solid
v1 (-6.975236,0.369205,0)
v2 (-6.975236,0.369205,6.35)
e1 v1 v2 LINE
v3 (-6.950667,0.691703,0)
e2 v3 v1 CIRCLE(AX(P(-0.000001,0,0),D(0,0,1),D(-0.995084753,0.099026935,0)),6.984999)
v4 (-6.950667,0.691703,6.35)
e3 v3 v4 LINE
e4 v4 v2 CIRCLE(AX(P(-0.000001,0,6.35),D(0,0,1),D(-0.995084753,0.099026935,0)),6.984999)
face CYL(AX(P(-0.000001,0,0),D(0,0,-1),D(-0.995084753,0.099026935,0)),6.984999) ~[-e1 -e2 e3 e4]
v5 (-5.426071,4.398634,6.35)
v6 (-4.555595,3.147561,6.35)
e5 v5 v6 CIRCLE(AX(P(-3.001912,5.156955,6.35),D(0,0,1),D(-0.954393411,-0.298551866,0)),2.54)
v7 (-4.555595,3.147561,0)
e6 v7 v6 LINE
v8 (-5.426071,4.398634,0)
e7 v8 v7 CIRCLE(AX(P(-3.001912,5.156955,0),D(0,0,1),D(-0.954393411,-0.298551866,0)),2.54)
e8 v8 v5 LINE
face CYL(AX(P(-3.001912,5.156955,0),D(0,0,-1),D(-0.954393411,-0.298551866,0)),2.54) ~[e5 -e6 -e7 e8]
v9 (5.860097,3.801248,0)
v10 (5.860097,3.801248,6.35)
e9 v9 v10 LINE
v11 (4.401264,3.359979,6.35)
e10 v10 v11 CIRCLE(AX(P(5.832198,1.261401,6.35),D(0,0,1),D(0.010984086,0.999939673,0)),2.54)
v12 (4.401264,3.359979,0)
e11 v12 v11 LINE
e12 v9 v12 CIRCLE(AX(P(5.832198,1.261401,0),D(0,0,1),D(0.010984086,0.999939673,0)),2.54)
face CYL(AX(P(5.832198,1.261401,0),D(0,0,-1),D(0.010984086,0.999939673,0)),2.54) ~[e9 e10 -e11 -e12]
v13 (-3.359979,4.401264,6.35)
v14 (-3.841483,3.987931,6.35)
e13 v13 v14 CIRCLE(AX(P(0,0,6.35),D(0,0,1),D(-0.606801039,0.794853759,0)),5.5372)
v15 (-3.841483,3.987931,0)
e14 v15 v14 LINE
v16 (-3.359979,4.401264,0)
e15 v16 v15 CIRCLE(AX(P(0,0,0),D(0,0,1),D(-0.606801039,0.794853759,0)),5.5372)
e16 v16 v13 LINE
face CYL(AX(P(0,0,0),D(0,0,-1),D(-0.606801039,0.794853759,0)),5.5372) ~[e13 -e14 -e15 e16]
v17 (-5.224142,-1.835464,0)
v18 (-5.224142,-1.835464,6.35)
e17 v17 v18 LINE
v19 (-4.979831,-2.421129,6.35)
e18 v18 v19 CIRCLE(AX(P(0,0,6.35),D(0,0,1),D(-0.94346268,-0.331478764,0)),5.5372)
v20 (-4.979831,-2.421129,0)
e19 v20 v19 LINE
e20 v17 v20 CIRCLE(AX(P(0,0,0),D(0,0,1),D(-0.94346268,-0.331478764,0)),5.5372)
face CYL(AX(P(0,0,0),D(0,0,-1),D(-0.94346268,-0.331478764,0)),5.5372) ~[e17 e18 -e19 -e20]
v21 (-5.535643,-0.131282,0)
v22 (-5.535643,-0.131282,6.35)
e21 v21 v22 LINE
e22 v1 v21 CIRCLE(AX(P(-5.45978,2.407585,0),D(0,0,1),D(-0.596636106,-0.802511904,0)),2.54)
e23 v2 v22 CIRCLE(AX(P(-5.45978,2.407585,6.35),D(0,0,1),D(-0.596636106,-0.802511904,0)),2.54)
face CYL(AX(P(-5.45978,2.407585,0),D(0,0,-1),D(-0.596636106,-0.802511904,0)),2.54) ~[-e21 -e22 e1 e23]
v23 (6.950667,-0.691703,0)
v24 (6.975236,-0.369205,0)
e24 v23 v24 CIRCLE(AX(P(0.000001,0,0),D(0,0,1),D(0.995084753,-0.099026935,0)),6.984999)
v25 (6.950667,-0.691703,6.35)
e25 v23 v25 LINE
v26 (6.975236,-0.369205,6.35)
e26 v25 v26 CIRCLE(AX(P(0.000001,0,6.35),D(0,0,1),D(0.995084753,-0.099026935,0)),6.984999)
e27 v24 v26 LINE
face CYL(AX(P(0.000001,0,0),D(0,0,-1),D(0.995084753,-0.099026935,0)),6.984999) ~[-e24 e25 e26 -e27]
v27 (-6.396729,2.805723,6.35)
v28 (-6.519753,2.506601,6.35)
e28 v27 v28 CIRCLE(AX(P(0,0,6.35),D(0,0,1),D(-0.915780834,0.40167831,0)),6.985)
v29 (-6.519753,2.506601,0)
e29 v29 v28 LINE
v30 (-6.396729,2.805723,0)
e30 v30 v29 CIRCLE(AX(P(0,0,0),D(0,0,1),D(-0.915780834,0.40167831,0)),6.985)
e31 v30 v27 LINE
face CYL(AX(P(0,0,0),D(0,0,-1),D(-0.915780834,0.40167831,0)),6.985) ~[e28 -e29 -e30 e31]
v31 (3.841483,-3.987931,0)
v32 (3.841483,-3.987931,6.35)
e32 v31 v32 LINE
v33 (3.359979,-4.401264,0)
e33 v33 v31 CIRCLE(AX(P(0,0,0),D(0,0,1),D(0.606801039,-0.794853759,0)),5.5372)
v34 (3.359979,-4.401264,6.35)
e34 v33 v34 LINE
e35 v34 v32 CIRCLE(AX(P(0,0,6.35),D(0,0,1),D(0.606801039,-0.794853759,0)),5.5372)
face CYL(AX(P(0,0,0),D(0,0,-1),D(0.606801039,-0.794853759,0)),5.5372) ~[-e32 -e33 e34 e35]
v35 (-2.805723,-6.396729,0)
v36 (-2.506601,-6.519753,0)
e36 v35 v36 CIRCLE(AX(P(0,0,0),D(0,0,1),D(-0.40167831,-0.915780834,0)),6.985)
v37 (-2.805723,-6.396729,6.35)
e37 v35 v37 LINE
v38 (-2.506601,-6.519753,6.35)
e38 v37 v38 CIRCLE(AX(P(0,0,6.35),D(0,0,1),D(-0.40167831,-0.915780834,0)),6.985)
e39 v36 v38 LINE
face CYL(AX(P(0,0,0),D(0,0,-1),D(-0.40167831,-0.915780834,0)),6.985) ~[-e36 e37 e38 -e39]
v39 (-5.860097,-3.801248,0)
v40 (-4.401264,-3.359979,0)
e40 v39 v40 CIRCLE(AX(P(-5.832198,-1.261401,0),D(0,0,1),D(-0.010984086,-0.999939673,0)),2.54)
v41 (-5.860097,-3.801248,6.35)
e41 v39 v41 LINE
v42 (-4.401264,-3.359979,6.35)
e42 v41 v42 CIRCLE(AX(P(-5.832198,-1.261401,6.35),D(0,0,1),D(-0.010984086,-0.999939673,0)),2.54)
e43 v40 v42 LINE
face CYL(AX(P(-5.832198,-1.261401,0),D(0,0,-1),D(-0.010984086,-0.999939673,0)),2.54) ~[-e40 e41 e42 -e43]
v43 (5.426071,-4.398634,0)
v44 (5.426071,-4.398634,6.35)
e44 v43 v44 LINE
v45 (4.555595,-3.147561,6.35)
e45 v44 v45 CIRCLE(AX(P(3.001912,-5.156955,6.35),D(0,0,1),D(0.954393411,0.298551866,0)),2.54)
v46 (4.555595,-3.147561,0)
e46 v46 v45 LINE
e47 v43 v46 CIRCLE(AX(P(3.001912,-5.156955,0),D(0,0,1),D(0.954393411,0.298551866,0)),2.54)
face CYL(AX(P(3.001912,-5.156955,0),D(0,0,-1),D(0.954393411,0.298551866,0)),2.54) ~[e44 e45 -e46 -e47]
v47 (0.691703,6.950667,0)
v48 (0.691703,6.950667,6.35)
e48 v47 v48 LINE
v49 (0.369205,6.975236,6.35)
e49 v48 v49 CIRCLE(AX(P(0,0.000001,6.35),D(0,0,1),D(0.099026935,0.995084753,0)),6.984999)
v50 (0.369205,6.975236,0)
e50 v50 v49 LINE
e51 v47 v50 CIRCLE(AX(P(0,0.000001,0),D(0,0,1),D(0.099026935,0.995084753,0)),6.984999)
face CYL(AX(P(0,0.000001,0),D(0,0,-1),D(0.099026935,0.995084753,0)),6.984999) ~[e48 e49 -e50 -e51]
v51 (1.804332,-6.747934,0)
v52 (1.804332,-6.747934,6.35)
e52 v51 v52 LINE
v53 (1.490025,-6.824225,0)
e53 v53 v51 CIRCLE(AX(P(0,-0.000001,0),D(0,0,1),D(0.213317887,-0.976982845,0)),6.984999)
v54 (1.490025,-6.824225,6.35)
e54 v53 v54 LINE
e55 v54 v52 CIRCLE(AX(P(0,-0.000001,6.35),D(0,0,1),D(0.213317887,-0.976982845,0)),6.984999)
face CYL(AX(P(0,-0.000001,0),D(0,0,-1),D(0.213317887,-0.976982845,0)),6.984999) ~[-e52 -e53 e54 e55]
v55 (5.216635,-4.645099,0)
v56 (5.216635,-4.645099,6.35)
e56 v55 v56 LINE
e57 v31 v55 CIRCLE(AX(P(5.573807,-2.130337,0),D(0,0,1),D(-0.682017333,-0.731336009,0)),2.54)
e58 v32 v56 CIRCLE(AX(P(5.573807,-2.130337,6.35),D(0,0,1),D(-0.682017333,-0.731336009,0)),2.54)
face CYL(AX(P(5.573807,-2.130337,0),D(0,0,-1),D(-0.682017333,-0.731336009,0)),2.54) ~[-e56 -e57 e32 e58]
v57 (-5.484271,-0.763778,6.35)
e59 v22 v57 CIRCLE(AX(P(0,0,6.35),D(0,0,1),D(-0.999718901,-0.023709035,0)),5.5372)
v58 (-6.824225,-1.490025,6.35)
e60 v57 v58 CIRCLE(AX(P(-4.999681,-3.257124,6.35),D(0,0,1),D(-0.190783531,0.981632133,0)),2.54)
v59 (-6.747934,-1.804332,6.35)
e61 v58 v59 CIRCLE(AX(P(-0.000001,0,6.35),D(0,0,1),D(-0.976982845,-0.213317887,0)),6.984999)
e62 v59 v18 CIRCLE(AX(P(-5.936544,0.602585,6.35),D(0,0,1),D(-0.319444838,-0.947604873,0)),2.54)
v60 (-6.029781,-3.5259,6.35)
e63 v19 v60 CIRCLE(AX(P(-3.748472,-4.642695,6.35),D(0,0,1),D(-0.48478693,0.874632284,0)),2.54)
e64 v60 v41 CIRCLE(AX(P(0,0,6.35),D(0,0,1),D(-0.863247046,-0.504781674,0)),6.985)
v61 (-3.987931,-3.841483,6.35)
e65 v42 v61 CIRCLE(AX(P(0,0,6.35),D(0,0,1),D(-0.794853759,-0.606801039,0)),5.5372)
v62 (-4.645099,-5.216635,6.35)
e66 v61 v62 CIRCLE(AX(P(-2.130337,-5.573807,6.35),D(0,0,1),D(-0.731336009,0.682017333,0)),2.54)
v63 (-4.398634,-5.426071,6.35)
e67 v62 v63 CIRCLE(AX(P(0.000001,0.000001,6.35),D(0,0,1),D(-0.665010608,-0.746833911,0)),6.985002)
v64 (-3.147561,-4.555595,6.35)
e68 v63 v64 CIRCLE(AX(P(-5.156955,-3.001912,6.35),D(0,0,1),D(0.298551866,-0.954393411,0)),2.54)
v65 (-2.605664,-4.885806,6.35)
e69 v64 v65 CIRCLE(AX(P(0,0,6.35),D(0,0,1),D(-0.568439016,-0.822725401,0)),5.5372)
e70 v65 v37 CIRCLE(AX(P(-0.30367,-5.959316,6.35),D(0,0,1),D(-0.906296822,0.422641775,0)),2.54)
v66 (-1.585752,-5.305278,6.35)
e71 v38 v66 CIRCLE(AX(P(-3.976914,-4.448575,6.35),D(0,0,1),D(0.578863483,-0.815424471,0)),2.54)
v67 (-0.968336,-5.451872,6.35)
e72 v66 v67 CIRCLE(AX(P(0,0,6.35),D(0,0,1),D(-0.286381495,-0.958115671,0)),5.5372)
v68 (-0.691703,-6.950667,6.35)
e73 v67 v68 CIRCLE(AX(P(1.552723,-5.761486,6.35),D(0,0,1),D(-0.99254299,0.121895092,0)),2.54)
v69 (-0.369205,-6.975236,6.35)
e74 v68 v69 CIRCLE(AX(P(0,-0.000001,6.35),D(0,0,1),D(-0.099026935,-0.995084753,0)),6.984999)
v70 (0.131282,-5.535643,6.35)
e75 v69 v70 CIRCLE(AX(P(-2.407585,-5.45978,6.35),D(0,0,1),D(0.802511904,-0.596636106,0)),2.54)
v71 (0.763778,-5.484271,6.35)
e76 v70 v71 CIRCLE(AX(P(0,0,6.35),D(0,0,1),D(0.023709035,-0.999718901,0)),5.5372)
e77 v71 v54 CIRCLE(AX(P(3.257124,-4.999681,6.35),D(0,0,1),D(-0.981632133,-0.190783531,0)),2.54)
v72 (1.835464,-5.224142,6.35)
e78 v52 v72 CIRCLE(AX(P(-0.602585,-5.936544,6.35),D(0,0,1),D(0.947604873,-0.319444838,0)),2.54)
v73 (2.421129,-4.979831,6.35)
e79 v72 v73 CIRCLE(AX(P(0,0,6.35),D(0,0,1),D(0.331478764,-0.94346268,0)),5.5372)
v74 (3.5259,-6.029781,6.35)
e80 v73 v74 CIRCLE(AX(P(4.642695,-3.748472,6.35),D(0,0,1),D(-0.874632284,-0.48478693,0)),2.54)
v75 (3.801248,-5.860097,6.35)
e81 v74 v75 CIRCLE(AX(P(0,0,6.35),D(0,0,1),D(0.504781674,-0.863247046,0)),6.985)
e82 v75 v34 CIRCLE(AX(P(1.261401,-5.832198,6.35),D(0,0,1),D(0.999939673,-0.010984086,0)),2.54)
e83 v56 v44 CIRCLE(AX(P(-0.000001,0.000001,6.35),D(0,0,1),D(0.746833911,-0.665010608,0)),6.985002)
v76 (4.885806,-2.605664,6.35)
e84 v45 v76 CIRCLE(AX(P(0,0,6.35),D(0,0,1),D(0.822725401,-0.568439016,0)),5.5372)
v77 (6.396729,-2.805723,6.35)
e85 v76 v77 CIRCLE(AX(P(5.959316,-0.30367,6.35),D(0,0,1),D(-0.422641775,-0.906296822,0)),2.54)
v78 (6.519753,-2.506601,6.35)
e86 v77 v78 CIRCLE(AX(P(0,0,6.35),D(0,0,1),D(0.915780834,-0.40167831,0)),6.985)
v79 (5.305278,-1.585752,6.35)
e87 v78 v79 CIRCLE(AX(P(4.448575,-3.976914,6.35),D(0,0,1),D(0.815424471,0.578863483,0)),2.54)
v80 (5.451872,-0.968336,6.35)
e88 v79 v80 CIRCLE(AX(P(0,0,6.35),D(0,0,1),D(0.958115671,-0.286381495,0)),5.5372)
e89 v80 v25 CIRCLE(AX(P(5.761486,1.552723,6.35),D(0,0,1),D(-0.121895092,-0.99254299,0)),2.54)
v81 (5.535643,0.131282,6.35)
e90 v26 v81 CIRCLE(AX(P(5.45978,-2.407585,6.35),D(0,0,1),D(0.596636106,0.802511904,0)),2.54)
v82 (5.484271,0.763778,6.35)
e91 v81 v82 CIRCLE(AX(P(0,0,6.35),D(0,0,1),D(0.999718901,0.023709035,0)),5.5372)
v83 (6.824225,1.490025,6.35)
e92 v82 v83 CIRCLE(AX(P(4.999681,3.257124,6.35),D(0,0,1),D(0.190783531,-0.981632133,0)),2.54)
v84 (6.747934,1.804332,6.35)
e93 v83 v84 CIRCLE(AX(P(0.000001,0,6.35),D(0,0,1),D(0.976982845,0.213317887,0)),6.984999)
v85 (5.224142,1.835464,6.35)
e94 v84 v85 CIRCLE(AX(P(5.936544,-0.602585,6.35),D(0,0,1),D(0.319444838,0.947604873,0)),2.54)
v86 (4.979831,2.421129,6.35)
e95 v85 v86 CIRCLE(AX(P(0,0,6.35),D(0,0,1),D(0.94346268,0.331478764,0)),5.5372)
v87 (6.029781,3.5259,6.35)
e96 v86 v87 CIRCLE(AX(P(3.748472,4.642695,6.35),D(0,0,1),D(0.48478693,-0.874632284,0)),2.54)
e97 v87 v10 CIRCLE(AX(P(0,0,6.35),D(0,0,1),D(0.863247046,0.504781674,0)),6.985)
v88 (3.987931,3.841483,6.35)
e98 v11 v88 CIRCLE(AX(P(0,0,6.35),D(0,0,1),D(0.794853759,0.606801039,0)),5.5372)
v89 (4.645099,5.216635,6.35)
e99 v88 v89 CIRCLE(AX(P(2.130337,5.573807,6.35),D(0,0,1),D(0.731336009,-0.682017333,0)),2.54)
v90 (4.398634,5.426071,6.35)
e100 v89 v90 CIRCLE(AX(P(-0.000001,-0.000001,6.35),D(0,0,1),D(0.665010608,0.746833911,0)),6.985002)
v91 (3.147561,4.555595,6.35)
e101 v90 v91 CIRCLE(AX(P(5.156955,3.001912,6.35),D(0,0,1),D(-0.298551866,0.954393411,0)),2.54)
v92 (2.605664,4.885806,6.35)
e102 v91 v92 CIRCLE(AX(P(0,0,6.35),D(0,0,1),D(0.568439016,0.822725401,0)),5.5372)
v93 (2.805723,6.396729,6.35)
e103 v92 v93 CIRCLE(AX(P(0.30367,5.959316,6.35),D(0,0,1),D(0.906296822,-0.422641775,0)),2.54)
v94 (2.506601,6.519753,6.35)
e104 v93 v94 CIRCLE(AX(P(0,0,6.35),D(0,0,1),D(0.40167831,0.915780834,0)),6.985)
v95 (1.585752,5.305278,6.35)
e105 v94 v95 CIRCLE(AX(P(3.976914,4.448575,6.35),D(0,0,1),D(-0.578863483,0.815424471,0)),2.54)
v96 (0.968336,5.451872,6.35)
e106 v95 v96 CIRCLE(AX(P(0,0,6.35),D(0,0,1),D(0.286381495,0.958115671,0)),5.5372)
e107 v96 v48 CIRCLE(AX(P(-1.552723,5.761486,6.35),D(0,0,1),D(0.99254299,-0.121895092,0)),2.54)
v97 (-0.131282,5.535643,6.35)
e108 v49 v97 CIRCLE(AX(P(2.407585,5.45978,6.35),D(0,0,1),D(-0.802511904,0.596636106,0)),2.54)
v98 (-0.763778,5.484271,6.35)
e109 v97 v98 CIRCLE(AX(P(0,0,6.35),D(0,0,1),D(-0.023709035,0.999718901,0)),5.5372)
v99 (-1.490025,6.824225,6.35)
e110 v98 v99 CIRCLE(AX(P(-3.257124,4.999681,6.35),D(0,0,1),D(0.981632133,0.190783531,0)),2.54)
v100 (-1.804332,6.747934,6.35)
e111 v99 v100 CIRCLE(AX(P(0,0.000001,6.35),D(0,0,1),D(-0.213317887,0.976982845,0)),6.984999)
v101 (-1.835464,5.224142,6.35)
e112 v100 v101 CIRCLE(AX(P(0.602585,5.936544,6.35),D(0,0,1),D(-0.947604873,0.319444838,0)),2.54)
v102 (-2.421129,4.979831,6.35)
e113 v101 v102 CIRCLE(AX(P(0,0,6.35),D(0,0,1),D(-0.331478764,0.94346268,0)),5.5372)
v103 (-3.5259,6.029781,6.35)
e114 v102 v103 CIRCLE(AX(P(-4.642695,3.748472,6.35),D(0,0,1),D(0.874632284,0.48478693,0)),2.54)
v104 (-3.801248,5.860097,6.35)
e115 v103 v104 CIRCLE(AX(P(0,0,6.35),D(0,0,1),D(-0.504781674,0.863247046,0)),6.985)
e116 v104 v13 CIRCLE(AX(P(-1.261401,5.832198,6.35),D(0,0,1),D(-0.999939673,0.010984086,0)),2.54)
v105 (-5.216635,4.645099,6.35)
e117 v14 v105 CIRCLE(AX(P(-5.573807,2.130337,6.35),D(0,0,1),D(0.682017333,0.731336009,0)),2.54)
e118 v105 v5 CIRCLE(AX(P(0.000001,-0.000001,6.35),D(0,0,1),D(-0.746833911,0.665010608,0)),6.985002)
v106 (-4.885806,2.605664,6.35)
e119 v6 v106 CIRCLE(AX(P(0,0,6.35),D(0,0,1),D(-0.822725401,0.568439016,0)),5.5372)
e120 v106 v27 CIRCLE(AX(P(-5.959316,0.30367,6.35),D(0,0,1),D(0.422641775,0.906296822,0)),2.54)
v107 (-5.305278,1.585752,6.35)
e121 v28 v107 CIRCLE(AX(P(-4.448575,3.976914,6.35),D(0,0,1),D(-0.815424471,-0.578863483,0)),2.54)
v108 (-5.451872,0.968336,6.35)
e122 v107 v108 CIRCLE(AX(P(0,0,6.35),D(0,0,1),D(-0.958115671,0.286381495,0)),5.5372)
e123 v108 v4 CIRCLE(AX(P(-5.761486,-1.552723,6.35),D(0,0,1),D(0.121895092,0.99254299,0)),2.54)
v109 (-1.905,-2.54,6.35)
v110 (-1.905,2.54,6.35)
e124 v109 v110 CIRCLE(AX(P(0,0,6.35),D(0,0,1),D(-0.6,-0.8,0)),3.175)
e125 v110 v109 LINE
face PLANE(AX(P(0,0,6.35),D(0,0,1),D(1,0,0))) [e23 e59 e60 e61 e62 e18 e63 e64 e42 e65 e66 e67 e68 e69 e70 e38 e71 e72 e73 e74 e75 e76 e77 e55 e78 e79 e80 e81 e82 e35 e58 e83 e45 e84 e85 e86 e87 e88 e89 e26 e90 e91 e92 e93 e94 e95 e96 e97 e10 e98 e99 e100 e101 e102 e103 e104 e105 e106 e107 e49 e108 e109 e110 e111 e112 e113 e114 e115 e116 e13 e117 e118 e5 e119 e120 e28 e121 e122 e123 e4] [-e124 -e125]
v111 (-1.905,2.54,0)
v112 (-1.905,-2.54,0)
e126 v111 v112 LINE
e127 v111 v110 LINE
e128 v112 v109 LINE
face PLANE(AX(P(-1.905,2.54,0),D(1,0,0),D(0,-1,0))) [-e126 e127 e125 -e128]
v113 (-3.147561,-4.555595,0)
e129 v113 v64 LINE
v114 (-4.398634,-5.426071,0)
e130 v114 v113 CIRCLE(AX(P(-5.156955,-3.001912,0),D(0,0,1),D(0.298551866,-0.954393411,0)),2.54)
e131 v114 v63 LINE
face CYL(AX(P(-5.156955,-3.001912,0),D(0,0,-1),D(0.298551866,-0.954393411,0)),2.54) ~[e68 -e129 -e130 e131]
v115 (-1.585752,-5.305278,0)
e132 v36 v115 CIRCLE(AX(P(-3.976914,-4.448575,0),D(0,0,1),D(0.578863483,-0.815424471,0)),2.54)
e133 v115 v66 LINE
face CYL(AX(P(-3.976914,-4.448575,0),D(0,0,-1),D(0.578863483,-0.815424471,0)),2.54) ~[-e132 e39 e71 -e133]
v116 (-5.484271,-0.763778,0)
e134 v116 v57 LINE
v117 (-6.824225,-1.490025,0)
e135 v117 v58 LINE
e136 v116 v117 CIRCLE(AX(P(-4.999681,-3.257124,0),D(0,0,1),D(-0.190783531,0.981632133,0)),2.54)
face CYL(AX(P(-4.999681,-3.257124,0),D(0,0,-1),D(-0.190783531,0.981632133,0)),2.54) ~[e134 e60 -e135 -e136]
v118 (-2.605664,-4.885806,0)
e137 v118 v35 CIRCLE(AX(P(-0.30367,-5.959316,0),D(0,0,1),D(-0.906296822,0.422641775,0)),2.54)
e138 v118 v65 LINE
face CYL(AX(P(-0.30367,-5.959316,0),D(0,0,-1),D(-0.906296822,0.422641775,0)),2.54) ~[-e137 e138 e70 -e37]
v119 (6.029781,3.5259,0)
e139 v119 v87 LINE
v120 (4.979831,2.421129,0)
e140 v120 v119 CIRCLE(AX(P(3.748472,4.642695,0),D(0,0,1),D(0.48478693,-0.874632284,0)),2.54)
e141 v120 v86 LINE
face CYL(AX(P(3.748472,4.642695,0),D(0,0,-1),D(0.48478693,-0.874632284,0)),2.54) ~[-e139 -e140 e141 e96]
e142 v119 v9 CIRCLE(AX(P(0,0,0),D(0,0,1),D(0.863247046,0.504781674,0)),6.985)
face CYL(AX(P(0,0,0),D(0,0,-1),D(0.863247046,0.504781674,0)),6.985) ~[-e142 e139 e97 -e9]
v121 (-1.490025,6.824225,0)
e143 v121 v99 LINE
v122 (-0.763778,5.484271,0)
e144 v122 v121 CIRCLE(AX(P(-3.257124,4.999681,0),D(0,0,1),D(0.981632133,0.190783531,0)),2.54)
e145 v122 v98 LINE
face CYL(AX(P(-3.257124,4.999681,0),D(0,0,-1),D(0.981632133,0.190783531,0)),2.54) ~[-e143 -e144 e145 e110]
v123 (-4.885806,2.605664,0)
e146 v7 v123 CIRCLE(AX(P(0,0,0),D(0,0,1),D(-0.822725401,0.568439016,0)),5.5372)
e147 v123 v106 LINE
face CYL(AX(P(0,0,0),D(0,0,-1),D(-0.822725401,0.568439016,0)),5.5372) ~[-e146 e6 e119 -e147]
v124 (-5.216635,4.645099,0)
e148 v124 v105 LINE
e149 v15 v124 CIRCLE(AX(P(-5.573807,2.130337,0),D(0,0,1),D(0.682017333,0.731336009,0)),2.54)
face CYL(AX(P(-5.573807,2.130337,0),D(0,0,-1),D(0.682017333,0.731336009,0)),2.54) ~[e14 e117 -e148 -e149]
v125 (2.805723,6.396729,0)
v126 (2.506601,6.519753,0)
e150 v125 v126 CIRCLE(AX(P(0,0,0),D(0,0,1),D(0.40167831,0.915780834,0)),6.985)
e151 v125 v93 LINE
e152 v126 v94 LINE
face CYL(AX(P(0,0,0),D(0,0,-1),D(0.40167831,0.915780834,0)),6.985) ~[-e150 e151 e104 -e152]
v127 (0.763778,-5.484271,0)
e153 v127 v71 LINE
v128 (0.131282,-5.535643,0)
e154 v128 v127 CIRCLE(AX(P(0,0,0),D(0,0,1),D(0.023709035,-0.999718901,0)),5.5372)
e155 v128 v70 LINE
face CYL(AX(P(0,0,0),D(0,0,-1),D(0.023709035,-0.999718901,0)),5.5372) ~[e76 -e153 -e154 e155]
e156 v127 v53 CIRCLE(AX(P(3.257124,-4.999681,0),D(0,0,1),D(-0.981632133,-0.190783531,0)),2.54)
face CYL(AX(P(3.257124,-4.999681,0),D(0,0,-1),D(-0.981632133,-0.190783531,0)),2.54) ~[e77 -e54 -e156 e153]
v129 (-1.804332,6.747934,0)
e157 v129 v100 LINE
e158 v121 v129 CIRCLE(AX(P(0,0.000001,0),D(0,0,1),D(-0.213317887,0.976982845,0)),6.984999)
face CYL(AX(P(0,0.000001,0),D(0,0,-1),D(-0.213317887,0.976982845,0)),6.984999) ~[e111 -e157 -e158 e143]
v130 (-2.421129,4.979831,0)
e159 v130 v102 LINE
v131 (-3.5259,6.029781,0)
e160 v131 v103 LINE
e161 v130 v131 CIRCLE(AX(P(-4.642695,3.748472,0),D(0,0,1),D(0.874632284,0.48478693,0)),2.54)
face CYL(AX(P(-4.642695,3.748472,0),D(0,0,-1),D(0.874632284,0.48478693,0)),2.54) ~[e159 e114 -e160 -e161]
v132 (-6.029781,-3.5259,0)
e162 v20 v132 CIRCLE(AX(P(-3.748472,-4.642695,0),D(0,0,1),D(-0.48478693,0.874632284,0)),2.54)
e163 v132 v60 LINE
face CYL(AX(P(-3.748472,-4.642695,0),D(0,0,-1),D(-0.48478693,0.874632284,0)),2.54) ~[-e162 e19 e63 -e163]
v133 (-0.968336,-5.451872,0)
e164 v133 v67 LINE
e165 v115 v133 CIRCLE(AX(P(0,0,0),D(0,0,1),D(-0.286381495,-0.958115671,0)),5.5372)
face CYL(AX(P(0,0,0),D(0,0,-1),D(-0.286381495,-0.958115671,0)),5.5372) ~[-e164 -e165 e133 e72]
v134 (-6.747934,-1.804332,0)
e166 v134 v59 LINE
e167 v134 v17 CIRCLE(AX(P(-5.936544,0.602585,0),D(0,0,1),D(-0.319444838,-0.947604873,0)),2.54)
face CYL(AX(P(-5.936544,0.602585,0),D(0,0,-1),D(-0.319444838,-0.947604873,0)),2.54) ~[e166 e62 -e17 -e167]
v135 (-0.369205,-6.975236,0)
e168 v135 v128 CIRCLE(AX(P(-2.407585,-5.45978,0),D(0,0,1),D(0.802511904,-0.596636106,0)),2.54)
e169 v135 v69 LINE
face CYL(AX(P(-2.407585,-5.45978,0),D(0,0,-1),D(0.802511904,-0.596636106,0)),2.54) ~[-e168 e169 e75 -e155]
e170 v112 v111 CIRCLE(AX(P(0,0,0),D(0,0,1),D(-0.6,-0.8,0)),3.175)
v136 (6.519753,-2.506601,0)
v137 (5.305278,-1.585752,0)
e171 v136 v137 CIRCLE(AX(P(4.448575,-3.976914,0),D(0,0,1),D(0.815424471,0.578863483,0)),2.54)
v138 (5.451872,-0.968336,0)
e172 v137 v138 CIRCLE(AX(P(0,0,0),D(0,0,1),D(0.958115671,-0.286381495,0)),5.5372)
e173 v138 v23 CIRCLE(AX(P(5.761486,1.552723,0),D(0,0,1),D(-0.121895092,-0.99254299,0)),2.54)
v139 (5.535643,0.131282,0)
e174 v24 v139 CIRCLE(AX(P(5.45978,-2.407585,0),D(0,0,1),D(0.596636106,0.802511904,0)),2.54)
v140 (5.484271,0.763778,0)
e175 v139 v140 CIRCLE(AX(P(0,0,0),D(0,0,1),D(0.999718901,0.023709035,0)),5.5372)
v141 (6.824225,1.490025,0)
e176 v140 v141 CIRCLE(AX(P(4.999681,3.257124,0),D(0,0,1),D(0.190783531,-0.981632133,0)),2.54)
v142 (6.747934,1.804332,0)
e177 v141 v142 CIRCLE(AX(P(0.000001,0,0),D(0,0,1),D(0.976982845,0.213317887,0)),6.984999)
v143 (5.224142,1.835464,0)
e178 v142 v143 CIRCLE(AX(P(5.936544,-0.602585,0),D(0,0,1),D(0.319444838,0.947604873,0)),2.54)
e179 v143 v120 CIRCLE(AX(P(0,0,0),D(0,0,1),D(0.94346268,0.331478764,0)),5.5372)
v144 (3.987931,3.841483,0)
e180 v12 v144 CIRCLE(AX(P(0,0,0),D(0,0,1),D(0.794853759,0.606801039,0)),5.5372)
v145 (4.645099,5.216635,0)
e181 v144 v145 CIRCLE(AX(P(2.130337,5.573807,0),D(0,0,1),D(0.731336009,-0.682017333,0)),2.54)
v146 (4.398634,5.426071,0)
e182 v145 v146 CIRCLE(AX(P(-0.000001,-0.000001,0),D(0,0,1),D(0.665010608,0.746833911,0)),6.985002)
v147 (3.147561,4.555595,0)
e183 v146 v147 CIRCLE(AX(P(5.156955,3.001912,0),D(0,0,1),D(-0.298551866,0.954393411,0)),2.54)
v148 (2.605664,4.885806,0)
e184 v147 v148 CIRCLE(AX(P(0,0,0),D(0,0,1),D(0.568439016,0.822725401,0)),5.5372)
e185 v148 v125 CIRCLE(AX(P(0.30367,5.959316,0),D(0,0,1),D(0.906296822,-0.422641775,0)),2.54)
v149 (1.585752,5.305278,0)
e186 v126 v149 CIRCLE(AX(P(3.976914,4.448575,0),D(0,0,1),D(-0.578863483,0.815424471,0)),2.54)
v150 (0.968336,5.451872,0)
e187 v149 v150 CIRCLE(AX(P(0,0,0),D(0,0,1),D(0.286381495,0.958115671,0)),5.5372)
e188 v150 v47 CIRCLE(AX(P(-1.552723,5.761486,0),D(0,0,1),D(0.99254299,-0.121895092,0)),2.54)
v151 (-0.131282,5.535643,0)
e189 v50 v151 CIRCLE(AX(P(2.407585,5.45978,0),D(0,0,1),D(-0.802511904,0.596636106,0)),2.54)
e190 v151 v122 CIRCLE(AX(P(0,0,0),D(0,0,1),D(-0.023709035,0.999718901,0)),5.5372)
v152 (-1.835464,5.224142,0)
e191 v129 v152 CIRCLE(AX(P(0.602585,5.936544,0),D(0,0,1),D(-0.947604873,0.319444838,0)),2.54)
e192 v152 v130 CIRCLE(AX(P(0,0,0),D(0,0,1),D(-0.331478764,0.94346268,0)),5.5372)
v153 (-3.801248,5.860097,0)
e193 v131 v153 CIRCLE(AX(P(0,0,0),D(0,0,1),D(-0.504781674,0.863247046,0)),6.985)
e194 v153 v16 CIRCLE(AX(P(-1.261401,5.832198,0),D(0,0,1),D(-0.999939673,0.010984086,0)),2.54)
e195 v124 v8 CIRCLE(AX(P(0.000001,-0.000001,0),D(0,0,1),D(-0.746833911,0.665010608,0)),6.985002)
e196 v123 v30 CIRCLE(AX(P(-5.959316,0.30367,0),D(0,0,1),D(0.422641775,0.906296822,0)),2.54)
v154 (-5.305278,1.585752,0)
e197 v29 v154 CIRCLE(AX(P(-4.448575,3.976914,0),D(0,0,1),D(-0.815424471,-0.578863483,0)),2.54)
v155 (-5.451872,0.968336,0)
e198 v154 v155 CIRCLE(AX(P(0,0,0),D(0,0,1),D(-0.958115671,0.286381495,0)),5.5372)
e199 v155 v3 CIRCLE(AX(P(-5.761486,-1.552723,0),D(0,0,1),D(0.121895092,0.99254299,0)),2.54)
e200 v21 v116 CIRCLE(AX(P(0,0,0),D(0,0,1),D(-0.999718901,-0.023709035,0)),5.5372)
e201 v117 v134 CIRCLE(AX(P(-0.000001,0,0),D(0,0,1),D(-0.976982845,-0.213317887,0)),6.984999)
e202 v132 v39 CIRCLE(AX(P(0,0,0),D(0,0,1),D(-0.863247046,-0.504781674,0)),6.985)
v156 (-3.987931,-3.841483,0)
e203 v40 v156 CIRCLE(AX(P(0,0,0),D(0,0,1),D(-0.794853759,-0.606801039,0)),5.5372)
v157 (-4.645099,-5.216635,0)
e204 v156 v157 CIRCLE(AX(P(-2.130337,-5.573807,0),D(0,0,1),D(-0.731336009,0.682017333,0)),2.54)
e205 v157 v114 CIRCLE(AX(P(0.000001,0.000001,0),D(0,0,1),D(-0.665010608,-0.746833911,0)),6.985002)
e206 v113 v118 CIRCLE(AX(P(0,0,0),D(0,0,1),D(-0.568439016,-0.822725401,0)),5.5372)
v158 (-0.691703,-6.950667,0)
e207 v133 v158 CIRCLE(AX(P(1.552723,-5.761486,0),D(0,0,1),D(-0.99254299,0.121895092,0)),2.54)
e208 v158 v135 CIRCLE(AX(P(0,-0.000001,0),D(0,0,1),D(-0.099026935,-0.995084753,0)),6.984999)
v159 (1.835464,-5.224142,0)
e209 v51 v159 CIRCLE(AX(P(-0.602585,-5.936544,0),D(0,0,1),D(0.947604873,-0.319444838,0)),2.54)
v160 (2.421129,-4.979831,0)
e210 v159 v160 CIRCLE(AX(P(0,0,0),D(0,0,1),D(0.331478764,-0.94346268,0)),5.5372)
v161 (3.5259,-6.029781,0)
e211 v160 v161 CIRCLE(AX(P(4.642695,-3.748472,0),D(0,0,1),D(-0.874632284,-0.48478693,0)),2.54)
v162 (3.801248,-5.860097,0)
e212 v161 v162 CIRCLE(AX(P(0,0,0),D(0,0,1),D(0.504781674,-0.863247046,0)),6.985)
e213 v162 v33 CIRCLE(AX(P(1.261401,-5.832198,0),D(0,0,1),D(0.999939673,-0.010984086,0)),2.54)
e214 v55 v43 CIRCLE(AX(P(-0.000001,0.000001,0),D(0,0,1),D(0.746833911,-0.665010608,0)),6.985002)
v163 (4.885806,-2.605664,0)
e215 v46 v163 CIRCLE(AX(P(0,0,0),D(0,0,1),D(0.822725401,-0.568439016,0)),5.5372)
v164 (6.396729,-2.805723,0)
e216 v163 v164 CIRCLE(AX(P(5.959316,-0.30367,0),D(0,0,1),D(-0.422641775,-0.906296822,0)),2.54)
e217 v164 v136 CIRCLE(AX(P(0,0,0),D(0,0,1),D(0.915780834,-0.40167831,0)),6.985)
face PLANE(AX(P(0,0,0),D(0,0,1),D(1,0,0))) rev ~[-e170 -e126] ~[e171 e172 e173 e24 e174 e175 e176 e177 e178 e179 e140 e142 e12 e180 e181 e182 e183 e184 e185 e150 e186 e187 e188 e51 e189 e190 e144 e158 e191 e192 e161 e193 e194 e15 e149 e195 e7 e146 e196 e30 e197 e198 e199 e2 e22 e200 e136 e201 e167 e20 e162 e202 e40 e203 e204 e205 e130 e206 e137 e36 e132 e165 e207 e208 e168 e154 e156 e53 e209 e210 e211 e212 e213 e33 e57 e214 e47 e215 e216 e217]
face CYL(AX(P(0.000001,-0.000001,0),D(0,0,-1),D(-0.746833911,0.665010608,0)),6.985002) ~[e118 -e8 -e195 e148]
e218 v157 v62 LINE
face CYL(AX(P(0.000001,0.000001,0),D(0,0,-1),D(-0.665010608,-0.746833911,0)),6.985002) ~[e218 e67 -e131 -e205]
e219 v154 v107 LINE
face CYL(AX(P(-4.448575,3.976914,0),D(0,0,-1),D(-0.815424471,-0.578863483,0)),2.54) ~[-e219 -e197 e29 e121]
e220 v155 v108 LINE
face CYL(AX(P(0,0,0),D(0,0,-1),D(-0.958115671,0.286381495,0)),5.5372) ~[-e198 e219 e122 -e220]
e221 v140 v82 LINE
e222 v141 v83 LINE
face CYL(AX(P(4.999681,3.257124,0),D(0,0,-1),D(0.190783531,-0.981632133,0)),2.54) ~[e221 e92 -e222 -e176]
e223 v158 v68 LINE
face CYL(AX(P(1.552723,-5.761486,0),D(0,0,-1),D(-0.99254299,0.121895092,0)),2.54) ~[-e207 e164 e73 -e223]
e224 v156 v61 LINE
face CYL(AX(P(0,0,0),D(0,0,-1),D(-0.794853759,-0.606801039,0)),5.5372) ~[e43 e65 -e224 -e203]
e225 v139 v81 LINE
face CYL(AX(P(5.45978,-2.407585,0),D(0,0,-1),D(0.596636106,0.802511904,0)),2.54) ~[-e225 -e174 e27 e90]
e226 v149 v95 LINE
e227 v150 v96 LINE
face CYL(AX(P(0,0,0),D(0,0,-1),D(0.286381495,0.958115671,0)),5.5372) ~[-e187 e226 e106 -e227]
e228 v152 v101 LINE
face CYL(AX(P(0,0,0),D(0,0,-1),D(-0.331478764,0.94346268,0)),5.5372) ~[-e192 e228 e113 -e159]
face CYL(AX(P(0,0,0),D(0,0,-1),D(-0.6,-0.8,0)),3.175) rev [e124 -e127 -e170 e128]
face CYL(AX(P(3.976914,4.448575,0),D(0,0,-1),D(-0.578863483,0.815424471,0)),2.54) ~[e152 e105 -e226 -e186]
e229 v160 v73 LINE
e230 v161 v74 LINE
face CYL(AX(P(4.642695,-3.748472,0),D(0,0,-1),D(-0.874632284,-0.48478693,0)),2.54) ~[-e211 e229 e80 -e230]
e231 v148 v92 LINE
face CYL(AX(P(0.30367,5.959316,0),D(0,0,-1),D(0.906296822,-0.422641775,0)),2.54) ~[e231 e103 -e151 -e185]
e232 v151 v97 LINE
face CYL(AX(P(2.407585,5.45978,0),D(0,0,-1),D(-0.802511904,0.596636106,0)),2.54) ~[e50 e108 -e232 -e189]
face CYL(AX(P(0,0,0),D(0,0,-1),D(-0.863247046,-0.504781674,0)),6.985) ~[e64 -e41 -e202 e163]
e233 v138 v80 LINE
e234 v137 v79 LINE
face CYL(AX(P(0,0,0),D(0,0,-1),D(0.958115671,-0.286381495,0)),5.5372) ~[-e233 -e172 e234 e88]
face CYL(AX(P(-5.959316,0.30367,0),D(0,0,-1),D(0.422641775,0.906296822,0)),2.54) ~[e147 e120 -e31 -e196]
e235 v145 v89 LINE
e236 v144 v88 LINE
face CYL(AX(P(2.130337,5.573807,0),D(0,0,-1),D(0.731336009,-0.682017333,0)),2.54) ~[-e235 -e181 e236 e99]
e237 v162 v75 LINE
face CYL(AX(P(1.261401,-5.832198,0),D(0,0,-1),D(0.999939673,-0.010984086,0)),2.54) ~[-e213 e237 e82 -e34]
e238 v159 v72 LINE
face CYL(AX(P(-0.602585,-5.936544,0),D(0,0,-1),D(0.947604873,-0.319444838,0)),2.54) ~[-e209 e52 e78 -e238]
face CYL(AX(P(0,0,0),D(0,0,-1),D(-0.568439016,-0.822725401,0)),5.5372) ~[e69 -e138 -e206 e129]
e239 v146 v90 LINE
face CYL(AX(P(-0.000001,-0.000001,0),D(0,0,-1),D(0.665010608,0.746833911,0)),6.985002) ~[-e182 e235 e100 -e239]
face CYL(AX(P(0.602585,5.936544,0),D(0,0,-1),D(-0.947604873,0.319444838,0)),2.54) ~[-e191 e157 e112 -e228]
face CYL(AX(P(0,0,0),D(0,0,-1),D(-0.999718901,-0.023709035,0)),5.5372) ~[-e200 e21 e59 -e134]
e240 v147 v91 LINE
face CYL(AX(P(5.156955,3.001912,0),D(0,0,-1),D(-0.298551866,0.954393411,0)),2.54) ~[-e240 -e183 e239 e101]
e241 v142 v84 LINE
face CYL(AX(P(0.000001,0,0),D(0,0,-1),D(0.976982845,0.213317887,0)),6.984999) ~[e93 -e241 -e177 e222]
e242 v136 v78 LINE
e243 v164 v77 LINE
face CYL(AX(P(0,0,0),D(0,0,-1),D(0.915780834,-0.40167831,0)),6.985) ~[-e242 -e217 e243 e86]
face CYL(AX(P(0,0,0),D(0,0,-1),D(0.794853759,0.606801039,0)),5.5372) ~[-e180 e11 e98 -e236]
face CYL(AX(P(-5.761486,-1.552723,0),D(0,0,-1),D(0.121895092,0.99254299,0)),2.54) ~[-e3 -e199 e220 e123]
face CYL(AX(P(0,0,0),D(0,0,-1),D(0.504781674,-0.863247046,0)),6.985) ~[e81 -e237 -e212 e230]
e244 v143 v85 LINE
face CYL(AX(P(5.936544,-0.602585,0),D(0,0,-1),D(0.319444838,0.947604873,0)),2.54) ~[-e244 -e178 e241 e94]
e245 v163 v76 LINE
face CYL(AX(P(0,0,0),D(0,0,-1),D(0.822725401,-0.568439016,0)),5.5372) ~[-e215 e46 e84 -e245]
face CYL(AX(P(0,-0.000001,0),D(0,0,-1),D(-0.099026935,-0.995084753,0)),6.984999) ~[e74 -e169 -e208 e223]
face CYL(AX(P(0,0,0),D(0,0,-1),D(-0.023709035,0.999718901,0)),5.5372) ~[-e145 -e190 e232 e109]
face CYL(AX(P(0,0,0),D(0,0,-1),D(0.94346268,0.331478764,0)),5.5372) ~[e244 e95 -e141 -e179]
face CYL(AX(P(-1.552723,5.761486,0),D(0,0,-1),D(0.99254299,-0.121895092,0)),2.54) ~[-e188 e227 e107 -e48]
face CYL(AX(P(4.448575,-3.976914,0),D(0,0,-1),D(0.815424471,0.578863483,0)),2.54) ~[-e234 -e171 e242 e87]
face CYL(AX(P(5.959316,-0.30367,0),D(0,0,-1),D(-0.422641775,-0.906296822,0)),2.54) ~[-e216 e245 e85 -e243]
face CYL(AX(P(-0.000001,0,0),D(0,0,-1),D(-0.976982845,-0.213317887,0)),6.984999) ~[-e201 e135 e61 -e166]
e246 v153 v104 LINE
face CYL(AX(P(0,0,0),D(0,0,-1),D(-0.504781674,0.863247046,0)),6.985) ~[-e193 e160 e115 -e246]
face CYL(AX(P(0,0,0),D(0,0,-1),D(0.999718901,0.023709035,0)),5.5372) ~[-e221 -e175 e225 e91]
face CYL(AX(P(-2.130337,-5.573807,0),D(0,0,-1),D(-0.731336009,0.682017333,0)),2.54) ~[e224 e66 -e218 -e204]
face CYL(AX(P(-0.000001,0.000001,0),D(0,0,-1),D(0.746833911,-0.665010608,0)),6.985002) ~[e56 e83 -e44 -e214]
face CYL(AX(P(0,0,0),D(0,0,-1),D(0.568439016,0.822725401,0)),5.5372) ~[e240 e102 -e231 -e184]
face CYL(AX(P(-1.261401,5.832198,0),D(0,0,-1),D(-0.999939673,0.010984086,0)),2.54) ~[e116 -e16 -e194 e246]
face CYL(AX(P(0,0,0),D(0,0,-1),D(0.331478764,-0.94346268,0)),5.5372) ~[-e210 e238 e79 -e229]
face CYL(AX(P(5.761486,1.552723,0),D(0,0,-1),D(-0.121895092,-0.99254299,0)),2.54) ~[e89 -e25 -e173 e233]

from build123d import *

# Parameters (mm, degrees)
BOSS_EXTRUDE1_DEPTH = 6.35


with BuildPart() as part:
    # Sketch1 → Boss-Extrude1 (new body)
    with BuildSketch(Plane.XY):
        with BuildLine():
            ThreePointArc((5.8600974, 3.801247619), (5.096802915, 3.692613372), (4.401264234, 3.359978717))
            ThreePointArc((4.401264234, 3.359978717), (4.201500823, 3.606656994), (3.987930607, 3.841483218))
            ThreePointArc((3.987930607, 3.841483218), (4.422090523, 4.478605685), (4.645099136, 5.216634837))
            ThreePointArc((4.645099136, 5.216634837), (4.523078796, 5.32277965), (4.398633704, 5.426071004))
            ThreePointArc((4.398633704, 5.426071004), (3.706267339, 5.086882728), (3.147560505, 4.555595099))
            ThreePointArc((3.147560505, 4.555595099), (2.881346432, 4.728469793), (2.605663792, 4.885805977))
            ThreePointArc((2.605663792, 4.885805977), (2.82169274, 5.625908243), (2.805722984, 6.396729128))
            ThreePointArc((2.805722984, 6.396729128), (2.656874194, 6.459972486), (2.506601094, 6.519752753))
            ThreePointArc((2.506601094, 6.519752753), (1.952936493, 5.983212559), (1.585751624, 5.305278091))
            ThreePointArc((1.585751624, 5.305278091), (1.279145776, 5.387427022), (0.968336451, 5.451872005))
            ThreePointArc((0.968336451, 5.451872005), (0.945088011, 6.222507704), (0.691703118, 6.950667004))
            ThreePointArc((0.691703118, 6.950667004), (0.530596234, 6.964818206), (0.369204905, 6.975235676))
            ThreePointArc((0.369204905, 6.975235676), (0.008438615, 6.293863858), (-0.131281675, 5.5356435))
            ThreePointArc((-0.131281675, 5.5356435), (-0.44826658, 5.519025359), (-0.763778409, 5.484270816))
            ThreePointArc((-0.763778409, 5.484270816), (-1.024028517, 6.210004756), (-1.490025469, 6.824225165))
            ThreePointArc((-1.490025469, 6.824225165), (-1.647620183, 6.787898993), (-1.804331633, 6.747933933))
            ThreePointArc((-1.804331633, 6.747933933), (-1.936885292, 5.98842791), (-1.835464209, 5.224141554))
            ThreePointArc((-1.835464209, 5.224141554), (-2.13179948, 5.11038304), (-2.421129317, 4.979830988))
            ThreePointArc((-2.421129317, 4.979830988), (-2.892905998, 5.589623275), (-3.525899981, 6.02978062))
            ThreePointArc((-3.525899981, 6.02978062), (-3.664556056, 5.946532932), (-3.801247619, 5.8600974))
            ThreePointArc((-3.801247619, 5.8600974), (-3.692613372, 5.096802915), (-3.359978717, 4.401264234))
            ThreePointArc((-3.359978717, 4.401264234), (-3.606656994, 4.201500823), (-3.841483218, 3.987930607))
            ThreePointArc((-3.841483218, 3.987930607), (-4.478605685, 4.422090523), (-5.216634837, 4.645099136))
            ThreePointArc((-5.216634837, 4.645099136), (-5.32277965, 4.523078796), (-5.426071004, 4.398633704))
            ThreePointArc((-5.426071004, 4.398633704), (-5.086882728, 3.706267339), (-4.555595099, 3.147560505))
            ThreePointArc((-4.555595099, 3.147560505), (-4.728469793, 2.881346432), (-4.885805977, 2.605663792))
            ThreePointArc((-4.885805977, 2.605663792), (-5.625908243, 2.82169274), (-6.396729128, 2.805722984))
            ThreePointArc((-6.396729128, 2.805722984), (-6.459972486, 2.656874194), (-6.519752753, 2.506601094))
            ThreePointArc((-6.519752753, 2.506601094), (-5.983212559, 1.952936493), (-5.305278091, 1.585751624))
            ThreePointArc((-5.305278091, 1.585751624), (-5.387427022, 1.279145776), (-5.451872005, 0.968336451))
            ThreePointArc((-5.451872005, 0.968336451), (-6.222507704, 0.945088011), (-6.950667004, 0.691703118))
            ThreePointArc((-6.950667004, 0.691703118), (-6.964818206, 0.530596234), (-6.975235676, 0.369204905))
            ThreePointArc((-6.975235676, 0.369204905), (-6.293863858, 0.008438615), (-5.5356435, -0.131281675))
            ThreePointArc((-5.5356435, -0.131281675), (-5.519025359, -0.44826658), (-5.484270816, -0.763778409))
            ThreePointArc((-5.484270816, -0.763778409), (-6.210004756, -1.024028517), (-6.824225165, -1.490025469))
            ThreePointArc((-6.824225165, -1.490025469), (-6.787898993, -1.647620183), (-6.747933933, -1.804331633))
            ThreePointArc((-6.747933933, -1.804331633), (-5.98842791, -1.936885292), (-5.224141554, -1.835464209))
            ThreePointArc((-5.224141554, -1.835464209), (-5.11038304, -2.13179948), (-4.979830988, -2.421129317))
            ThreePointArc((-4.979830988, -2.421129317), (-5.589623275, -2.892905998), (-6.02978062, -3.525899981))
            ThreePointArc((-6.02978062, -3.525899981), (-5.946532932, -3.664556056), (-5.8600974, -3.801247619))
            ThreePointArc((-5.8600974, -3.801247619), (-5.096802915, -3.692613372), (-4.401264234, -3.359978717))
            ThreePointArc((-4.401264234, -3.359978717), (-4.201500823, -3.606656994), (-3.987930607, -3.841483218))
            ThreePointArc((-3.987930607, -3.841483218), (-4.422090523, -4.478605685), (-4.645099136, -5.216634837))
            ThreePointArc((-4.645099136, -5.216634837), (-4.523078796, -5.32277965), (-4.398633704, -5.426071004))
            ThreePointArc((-4.398633704, -5.426071004), (-3.706267339, -5.086882728), (-3.147560505, -4.555595099))
            ThreePointArc((-3.147560505, -4.555595099), (-2.881346432, -4.728469793), (-2.605663792, -4.885805977))
            ThreePointArc((-2.605663792, -4.885805977), (-2.82169274, -5.625908243), (-2.805722984, -6.396729128))
            ThreePointArc((-2.805722984, -6.396729128), (-2.656874194, -6.459972486), (-2.506601094, -6.519752753))
            ThreePointArc((-2.506601094, -6.519752753), (-1.952936493, -5.983212559), (-1.585751624, -5.305278091))
            ThreePointArc((-1.585751624, -5.305278091), (-1.279145776, -5.387427022), (-0.968336451, -5.451872005))
            ThreePointArc((-0.968336451, -5.451872005), (-0.945088011, -6.222507704), (-0.691703118, -6.950667004))
            ThreePointArc((-0.691703118, -6.950667004), (-0.530596234, -6.964818206), (-0.369204905, -6.975235676))
            ThreePointArc((-0.369204905, -6.975235676), (-0.008438615, -6.293863858), (0.131281675, -5.5356435))
            ThreePointArc((0.131281675, -5.5356435), (0.44826658, -5.519025359), (0.763778409, -5.484270816))
            ThreePointArc((0.763778409, -5.484270816), (1.024028517, -6.210004756), (1.490025469, -6.824225165))
            ThreePointArc((1.490025469, -6.824225165), (1.647620183, -6.787898993), (1.804331633, -6.747933933))
            ThreePointArc((1.804331633, -6.747933933), (1.936885292, -5.98842791), (1.835464209, -5.224141554))
            ThreePointArc((1.835464209, -5.224141554), (2.13179948, -5.11038304), (2.421129317, -4.979830988))
            ThreePointArc((2.421129317, -4.979830988), (2.892905998, -5.589623275), (3.525899981, -6.02978062))
            ThreePointArc((3.525899981, -6.02978062), (3.664556056, -5.946532932), (3.801247619, -5.8600974))
            ThreePointArc((3.801247619, -5.8600974), (3.692613372, -5.096802915), (3.359978717, -4.401264234))
            ThreePointArc((3.359978717, -4.401264234), (3.606656994, -4.201500823), (3.841483218, -3.987930607))
            ThreePointArc((3.841483218, -3.987930607), (4.478605685, -4.422090523), (5.216634837, -4.645099136))
            ThreePointArc((5.216634837, -4.645099136), (5.32277965, -4.523078796), (5.426071004, -4.398633704))
            ThreePointArc((5.426071004, -4.398633704), (5.086882728, -3.706267339), (4.555595099, -3.147560505))
            ThreePointArc((4.555595099, -3.147560505), (4.728469793, -2.881346432), (4.885805977, -2.605663792))
            ThreePointArc((4.885805977, -2.605663792), (5.625908243, -2.82169274), (6.396729128, -2.805722984))
            ThreePointArc((6.396729128, -2.805722984), (6.459972486, -2.656874194), (6.519752753, -2.506601094))
            ThreePointArc((6.519752753, -2.506601094), (5.983212559, -1.952936493), (5.305278091, -1.585751624))
            ThreePointArc((5.305278091, -1.585751624), (5.387427022, -1.279145776), (5.451872005, -0.968336451))
            ThreePointArc((5.451872005, -0.968336451), (6.222507704, -0.945088011), (6.950667004, -0.691703118))
            ThreePointArc((6.950667004, -0.691703118), (6.964818206, -0.530596234), (6.975235676, -0.369204905))
            ThreePointArc((6.975235676, -0.369204905), (6.293863858, -0.008438615), (5.5356435, 0.131281675))
            ThreePointArc((5.5356435, 0.131281675), (5.519025359, 0.44826658), (5.484270816, 0.763778409))
            ThreePointArc((5.484270816, 0.763778409), (6.210004756, 1.024028517), (6.824225165, 1.490025469))
            ThreePointArc((6.824225165, 1.490025469), (6.787898993, 1.647620183), (6.747933933, 1.804331633))
            ThreePointArc((6.747933933, 1.804331633), (5.98842791, 1.936885292), (5.224141554, 1.835464209))
            ThreePointArc((5.224141554, 1.835464209), (5.11038304, 2.13179948), (4.979830988, 2.421129317))
            ThreePointArc((4.979830988, 2.421129317), (5.589623275, 2.892905998), (6.02978062, 3.525899981))
            ThreePointArc((6.02978062, 3.525899981), (5.946532932, 3.664556056), (5.8600974, 3.801247619))
        make_face()
        with BuildLine():
            Line((-1.905, 2.54), (-1.905, -2.54))
            ThreePointArc((-1.905, -2.54), (3.175, 0), (-1.905, 2.54))
        make_face(mode=Mode.SUBTRACT)
    extrude(amount=BOSS_EXTRUDE1_DEPTH)


solid = part.part
